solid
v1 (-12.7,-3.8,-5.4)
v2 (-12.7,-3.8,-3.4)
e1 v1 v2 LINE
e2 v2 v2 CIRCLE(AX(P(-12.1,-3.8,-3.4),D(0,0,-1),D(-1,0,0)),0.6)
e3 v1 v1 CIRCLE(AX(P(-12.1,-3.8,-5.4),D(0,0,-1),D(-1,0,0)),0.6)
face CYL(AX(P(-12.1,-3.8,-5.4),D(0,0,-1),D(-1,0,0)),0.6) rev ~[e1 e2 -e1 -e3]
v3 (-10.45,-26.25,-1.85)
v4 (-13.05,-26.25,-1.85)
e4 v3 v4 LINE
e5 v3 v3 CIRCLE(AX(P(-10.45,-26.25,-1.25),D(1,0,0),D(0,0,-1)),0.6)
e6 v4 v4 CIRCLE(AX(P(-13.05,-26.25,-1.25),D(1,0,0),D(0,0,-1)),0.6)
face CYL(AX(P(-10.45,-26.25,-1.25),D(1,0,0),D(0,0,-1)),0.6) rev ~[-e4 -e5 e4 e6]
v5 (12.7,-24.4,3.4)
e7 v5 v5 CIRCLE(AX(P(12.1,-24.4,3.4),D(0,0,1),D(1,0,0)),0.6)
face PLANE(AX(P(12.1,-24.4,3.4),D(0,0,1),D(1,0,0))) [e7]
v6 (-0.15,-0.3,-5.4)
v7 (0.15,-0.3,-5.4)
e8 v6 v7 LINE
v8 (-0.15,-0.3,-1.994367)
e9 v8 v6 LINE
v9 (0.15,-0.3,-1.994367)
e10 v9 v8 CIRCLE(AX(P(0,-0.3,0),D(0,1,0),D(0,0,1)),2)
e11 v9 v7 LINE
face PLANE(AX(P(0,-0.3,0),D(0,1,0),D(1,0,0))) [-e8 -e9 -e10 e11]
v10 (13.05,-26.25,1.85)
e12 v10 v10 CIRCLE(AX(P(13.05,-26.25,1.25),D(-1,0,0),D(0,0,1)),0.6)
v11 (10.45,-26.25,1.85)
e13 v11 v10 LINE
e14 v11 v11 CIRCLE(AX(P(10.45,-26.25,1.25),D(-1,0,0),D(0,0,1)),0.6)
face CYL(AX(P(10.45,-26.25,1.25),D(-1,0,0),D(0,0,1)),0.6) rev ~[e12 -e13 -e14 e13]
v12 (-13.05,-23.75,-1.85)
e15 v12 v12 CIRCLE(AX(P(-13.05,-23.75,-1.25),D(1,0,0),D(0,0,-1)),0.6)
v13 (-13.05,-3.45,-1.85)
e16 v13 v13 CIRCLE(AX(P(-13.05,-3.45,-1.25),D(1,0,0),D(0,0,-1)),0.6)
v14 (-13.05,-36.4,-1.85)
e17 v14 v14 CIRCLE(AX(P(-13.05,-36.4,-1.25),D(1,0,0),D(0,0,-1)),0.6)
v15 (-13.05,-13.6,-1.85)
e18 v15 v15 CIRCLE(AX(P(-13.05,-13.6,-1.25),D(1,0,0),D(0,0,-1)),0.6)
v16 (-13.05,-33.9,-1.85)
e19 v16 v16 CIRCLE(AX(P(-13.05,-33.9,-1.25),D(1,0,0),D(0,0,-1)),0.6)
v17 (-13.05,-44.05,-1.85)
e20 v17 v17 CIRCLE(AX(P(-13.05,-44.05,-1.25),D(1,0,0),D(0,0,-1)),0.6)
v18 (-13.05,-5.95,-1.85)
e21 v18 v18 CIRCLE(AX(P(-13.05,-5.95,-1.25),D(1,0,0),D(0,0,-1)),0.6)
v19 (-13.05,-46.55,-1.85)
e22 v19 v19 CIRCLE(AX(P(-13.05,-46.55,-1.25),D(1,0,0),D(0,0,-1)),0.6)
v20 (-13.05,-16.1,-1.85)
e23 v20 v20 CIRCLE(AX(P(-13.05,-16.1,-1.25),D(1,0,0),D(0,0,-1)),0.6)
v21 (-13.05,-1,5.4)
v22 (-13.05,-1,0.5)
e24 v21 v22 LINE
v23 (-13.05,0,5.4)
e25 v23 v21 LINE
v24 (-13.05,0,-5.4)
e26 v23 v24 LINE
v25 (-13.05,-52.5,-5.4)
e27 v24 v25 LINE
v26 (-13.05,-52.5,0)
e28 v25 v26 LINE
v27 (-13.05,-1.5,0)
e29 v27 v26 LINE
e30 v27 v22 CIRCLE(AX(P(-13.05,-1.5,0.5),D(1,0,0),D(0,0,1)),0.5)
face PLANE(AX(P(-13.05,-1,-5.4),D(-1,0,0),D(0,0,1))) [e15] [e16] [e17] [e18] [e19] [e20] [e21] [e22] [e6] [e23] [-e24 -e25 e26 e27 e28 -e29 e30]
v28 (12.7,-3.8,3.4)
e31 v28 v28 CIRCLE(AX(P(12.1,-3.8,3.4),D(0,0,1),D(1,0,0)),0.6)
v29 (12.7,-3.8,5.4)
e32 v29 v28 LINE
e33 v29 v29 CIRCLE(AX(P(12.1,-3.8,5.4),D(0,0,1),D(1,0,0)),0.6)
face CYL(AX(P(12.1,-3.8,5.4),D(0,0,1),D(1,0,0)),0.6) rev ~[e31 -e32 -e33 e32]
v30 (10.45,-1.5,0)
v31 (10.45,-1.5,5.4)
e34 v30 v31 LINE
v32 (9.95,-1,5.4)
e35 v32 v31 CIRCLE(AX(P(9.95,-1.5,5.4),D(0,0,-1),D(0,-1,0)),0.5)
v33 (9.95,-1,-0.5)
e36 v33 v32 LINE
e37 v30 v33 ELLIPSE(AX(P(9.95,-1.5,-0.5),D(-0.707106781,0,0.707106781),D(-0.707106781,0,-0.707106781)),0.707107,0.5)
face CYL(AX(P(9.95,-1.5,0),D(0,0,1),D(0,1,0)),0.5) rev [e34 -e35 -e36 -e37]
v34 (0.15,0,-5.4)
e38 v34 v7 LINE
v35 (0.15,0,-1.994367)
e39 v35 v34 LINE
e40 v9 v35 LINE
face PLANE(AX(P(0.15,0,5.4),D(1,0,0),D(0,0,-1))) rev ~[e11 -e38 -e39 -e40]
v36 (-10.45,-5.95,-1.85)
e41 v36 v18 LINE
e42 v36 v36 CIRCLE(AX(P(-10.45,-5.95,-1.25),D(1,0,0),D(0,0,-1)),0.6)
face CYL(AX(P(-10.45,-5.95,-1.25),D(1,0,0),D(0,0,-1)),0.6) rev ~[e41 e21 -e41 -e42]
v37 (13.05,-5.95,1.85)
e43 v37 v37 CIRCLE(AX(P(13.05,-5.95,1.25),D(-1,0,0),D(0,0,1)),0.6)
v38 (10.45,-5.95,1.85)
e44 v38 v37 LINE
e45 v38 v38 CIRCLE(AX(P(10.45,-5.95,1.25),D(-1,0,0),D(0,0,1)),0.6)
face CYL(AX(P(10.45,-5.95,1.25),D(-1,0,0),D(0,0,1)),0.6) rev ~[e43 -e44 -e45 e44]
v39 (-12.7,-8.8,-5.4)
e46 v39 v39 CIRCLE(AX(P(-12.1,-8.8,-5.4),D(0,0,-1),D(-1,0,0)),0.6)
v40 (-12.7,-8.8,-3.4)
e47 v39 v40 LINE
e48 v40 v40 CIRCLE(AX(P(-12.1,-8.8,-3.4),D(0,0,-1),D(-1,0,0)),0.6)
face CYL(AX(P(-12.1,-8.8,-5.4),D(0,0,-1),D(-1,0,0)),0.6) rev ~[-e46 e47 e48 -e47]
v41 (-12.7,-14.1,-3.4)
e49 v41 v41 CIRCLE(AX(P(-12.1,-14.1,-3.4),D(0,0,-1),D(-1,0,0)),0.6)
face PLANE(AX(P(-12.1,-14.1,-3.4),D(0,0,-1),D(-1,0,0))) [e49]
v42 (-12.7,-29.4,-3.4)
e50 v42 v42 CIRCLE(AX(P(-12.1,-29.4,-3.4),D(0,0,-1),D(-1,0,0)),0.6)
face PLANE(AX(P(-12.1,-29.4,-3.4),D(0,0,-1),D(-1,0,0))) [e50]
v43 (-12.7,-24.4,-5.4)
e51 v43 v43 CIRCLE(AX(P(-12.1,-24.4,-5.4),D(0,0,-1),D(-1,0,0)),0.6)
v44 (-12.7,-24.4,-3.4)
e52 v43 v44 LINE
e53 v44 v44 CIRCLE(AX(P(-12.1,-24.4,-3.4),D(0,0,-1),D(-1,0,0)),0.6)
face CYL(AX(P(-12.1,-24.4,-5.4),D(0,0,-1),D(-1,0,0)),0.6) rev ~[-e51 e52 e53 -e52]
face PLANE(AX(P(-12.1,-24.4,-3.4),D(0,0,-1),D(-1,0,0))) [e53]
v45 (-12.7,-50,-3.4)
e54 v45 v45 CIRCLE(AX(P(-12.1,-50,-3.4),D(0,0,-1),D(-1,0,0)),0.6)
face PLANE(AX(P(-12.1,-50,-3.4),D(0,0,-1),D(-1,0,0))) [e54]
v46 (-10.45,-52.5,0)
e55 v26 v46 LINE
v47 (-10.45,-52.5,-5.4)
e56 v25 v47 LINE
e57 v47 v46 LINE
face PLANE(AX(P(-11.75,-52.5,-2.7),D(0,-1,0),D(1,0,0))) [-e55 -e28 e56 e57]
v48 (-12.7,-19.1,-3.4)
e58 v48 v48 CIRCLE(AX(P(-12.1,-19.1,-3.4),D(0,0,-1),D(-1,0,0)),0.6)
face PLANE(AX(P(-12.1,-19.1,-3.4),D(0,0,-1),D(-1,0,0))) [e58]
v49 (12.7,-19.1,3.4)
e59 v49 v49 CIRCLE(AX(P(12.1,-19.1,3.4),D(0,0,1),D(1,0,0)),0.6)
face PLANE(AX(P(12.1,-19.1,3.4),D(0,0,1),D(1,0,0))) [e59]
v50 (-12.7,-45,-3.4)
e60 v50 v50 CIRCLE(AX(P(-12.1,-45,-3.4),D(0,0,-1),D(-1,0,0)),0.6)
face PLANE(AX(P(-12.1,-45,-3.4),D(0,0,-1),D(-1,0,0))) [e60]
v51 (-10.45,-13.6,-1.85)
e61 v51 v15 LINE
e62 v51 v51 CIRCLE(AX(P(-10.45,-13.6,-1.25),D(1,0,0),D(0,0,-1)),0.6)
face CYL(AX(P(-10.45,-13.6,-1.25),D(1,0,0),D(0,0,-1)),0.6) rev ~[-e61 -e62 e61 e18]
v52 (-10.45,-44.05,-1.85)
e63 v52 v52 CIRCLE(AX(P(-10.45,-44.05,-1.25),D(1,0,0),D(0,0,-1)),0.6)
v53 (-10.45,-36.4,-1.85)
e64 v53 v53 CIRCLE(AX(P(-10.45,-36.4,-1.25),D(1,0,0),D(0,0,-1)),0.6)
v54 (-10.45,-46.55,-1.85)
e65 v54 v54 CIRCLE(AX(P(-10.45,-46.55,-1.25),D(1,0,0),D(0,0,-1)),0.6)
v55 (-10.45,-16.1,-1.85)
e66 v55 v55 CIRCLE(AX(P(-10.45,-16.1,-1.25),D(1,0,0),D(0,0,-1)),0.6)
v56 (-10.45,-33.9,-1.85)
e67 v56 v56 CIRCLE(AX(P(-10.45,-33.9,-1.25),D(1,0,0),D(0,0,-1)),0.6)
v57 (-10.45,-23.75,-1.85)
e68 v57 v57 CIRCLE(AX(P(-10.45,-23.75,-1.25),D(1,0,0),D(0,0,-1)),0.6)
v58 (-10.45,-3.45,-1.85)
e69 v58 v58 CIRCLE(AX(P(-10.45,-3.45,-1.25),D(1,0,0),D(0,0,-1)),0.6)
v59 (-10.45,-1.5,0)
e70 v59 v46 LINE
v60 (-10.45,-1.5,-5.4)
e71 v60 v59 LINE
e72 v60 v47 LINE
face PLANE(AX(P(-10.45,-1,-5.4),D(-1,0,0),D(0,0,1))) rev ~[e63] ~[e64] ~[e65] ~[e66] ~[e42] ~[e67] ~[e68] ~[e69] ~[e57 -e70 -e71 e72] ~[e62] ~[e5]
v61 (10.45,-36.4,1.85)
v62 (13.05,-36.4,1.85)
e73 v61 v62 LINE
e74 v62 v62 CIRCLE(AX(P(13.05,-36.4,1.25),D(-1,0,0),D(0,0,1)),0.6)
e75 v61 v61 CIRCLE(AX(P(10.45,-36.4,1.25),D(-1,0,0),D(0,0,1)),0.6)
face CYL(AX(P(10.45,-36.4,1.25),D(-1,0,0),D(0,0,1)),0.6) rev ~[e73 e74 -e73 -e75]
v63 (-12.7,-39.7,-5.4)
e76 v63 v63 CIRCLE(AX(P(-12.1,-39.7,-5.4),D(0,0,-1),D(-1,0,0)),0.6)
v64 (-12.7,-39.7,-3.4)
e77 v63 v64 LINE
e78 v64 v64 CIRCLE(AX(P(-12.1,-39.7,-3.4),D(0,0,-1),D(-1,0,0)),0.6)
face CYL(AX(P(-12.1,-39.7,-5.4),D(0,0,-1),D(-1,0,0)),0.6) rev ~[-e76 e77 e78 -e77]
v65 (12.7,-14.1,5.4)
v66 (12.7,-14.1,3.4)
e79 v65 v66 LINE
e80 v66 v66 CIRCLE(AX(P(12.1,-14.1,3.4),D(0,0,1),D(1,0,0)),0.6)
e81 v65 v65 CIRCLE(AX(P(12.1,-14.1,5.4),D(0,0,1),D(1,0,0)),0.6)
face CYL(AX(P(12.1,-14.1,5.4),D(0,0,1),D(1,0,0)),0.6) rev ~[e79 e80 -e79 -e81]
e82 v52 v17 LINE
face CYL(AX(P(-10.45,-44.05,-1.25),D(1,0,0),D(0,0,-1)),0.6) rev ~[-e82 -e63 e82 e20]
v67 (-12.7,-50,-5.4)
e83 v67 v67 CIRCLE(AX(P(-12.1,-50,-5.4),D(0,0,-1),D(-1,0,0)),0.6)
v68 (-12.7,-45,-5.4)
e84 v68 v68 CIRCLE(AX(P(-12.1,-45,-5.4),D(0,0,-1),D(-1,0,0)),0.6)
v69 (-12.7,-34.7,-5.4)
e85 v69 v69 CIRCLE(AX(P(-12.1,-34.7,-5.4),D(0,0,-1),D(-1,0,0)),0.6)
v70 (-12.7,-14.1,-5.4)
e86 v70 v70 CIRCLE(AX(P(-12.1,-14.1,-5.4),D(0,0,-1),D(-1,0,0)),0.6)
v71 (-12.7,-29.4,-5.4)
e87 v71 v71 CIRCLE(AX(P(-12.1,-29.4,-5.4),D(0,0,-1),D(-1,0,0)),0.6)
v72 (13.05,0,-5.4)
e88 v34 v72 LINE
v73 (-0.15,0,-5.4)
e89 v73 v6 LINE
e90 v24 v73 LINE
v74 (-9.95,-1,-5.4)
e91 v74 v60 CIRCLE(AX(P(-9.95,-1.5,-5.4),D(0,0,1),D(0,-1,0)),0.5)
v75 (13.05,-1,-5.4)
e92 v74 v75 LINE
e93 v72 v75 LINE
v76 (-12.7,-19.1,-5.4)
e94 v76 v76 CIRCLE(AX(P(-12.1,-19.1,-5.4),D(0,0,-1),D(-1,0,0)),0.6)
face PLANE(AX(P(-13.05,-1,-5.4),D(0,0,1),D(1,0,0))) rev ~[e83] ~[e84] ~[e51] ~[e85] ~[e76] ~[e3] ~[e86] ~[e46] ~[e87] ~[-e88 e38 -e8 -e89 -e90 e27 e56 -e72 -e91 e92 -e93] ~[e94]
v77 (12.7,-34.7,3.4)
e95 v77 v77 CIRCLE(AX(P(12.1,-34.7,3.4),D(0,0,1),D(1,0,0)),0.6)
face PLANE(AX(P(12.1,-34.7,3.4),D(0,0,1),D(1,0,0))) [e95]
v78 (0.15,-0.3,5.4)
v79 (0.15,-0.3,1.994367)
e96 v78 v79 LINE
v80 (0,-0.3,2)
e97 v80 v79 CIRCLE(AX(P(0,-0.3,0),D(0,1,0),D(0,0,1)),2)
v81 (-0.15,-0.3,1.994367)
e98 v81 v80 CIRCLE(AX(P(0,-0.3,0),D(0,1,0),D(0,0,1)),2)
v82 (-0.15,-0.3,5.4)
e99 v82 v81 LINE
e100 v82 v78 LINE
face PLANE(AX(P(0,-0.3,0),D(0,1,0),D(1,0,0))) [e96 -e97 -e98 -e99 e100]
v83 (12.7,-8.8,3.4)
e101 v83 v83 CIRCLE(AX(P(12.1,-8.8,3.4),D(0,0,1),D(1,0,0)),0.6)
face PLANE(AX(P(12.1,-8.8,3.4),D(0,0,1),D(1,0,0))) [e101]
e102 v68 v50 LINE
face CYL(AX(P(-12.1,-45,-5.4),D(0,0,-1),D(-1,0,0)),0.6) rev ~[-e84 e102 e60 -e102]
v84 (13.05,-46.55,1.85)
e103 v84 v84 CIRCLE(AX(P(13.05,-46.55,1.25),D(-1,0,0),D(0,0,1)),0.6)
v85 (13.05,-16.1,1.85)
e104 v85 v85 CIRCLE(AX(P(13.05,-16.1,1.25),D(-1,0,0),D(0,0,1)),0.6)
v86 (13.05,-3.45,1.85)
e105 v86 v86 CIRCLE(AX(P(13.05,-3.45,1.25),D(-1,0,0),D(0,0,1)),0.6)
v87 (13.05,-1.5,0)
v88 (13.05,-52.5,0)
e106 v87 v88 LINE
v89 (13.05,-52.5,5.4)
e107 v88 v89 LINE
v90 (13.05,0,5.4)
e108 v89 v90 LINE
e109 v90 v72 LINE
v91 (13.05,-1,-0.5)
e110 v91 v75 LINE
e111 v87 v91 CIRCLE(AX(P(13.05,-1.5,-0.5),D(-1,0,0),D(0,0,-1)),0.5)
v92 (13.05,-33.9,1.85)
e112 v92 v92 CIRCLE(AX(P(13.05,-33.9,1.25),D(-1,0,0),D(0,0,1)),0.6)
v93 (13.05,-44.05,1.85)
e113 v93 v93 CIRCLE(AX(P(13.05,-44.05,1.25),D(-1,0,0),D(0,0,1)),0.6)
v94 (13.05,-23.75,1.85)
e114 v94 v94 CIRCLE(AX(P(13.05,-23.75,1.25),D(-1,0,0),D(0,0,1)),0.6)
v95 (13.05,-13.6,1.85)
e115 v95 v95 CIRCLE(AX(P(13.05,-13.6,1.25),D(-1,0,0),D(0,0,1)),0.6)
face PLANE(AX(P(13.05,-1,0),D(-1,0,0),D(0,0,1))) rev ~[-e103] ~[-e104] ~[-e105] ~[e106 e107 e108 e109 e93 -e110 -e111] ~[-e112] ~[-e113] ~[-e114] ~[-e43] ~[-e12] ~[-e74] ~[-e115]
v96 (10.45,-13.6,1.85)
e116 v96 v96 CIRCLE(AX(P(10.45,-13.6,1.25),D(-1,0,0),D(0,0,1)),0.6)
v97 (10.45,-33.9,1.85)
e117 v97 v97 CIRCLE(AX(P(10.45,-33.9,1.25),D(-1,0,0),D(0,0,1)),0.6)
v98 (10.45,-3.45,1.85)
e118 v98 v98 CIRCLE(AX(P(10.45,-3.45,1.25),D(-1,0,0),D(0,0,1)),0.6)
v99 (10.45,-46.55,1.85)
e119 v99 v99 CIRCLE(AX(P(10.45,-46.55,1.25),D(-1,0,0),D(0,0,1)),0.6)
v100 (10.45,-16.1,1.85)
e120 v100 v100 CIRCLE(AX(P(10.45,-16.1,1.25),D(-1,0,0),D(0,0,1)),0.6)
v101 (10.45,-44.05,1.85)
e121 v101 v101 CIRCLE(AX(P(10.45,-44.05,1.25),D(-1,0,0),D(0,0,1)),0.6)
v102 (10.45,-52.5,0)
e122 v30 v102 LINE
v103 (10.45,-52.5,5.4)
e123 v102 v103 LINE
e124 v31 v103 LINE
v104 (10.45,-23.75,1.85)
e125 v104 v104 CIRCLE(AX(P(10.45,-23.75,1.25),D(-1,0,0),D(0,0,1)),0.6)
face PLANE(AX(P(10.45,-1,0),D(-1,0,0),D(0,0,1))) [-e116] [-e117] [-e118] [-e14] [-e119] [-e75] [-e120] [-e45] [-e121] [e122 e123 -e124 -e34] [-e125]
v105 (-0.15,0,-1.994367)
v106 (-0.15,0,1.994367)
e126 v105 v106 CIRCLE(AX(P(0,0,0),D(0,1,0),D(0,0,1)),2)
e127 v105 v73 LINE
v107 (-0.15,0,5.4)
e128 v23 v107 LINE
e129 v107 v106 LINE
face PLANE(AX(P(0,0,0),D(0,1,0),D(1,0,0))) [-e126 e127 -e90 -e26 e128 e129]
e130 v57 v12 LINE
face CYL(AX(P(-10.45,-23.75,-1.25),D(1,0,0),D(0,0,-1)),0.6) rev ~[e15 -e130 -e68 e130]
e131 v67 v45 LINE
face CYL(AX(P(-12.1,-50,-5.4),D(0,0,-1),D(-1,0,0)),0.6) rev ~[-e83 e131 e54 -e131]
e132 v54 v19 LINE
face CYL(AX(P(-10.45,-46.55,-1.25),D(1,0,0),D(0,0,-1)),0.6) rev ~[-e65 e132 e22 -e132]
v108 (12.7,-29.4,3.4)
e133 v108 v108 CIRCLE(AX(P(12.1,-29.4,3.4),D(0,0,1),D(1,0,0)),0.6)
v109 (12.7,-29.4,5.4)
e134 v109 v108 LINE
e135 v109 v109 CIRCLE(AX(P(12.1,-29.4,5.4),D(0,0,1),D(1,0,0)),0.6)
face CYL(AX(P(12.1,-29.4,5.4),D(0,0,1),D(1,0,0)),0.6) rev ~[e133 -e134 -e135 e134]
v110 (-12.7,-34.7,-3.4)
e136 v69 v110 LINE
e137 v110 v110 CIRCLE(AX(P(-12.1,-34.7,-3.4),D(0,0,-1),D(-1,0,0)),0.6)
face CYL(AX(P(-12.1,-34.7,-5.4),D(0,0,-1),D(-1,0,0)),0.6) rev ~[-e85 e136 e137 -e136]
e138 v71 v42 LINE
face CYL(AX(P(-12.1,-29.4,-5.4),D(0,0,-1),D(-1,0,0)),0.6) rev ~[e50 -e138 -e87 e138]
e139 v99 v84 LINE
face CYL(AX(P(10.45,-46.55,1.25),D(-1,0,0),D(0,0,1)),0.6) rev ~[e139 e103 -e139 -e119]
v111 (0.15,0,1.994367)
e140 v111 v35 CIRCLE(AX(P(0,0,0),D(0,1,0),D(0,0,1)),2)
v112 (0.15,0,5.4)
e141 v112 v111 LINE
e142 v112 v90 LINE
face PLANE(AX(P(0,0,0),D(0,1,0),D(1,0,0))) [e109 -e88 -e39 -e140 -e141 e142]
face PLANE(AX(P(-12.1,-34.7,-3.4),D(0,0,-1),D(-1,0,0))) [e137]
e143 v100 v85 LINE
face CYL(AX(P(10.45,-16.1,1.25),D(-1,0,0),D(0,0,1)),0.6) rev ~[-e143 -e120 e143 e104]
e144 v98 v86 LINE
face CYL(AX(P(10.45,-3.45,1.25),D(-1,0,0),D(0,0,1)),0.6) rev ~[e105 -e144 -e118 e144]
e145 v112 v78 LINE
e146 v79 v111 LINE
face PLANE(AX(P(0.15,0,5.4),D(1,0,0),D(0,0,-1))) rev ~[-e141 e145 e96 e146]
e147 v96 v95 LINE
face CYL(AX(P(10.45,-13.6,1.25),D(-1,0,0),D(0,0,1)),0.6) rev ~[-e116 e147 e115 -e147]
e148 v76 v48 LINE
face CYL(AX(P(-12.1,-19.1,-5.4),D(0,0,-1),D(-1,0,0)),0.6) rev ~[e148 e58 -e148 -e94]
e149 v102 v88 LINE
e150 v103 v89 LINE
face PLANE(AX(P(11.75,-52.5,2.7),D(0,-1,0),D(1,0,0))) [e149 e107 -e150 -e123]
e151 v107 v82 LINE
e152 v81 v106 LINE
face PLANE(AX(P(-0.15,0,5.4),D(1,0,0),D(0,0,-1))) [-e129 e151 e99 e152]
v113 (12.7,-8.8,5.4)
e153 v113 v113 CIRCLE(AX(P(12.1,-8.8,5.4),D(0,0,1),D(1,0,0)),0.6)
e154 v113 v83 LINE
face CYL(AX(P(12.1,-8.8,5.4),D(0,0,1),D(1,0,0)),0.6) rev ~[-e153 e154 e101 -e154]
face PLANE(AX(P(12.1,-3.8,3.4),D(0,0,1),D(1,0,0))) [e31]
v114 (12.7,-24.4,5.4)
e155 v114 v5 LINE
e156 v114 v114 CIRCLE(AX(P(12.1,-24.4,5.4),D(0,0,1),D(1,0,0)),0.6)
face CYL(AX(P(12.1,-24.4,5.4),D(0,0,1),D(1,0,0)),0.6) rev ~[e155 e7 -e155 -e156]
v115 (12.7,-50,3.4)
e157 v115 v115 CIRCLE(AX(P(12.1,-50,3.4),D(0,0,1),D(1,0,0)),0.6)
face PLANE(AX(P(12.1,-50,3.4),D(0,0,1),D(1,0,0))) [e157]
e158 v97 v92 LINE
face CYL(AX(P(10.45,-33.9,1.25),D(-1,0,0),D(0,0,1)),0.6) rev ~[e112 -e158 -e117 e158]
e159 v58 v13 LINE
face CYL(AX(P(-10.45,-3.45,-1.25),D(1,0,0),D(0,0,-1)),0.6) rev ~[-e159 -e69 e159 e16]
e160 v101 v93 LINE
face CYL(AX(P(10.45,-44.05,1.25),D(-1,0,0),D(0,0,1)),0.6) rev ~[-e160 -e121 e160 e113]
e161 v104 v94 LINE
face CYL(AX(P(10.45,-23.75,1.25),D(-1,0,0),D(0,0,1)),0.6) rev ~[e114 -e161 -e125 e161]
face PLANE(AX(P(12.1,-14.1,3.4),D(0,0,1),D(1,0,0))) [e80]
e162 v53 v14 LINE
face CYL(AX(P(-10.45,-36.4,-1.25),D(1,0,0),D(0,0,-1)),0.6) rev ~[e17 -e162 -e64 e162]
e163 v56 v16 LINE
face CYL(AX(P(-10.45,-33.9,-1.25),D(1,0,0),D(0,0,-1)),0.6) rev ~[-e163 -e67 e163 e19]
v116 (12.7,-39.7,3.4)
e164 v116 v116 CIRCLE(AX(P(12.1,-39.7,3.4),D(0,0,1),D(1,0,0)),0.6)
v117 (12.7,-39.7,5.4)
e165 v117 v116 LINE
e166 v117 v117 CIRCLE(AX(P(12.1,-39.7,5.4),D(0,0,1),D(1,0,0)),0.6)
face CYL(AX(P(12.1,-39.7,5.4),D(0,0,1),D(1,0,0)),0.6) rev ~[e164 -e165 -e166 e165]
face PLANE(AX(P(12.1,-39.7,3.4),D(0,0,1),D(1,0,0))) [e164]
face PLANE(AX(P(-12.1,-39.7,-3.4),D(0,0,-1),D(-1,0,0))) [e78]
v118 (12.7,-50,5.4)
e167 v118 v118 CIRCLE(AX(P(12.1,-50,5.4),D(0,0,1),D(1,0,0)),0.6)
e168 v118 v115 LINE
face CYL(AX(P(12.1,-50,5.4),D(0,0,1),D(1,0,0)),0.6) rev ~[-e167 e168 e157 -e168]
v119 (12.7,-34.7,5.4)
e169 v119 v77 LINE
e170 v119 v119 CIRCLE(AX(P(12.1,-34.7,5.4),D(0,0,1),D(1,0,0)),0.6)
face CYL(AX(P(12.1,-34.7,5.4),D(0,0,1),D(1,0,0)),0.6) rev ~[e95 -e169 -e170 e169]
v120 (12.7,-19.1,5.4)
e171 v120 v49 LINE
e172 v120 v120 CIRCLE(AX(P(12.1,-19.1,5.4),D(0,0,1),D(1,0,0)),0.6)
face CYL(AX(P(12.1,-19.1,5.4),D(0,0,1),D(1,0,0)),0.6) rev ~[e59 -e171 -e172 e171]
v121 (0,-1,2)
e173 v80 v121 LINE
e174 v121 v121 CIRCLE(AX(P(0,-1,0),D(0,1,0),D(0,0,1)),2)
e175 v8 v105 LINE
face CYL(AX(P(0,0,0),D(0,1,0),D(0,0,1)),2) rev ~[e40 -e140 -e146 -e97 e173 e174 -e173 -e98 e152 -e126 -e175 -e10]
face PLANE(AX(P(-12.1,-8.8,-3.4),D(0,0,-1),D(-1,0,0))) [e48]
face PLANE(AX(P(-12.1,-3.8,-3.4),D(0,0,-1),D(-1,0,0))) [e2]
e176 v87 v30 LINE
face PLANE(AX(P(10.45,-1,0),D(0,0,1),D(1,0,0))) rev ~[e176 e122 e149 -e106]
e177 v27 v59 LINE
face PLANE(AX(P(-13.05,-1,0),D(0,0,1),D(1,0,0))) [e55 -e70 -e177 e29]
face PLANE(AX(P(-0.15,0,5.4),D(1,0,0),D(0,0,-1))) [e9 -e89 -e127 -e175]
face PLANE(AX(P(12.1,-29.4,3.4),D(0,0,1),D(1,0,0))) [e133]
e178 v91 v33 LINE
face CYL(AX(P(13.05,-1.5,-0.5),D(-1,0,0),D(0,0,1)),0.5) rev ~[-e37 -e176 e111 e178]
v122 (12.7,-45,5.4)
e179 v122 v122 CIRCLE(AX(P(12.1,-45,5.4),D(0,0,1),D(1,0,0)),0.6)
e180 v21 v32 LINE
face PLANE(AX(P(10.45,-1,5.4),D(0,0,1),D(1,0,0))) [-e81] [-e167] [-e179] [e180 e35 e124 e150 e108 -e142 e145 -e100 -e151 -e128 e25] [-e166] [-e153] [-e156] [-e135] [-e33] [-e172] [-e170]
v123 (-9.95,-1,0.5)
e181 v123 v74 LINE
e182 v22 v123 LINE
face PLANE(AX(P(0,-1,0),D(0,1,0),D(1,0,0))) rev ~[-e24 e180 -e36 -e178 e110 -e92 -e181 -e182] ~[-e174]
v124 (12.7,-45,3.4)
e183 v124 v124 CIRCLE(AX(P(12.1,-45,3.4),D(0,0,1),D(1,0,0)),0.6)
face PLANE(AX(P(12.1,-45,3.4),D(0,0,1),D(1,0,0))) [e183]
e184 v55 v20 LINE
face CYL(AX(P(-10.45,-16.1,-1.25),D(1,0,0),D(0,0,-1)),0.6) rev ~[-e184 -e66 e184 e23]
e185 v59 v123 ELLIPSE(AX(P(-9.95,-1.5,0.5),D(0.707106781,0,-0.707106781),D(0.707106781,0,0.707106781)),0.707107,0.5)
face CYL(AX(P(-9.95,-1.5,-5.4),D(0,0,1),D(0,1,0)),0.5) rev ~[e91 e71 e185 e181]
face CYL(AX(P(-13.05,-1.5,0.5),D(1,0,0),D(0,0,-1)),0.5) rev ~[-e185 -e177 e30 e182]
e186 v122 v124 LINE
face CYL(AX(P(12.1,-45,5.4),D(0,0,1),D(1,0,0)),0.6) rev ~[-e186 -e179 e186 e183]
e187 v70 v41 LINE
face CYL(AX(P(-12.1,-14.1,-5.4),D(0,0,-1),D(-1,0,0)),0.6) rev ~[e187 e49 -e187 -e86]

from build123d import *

# Parameters (mm, degrees)
SKETCH1_W              = 26.1
SKETCH1_H              = 10.8
EXTRUDE_284_DEPTH      = 1
SKETCH2_W              = 2.6
SKETCH2_H              = 5.4
EXTRUDE_422_DEPTH      = 51.5
SKETCH3_W              = 2.6
SKETCH3_H              = 5.4
EXTRUDE_634_DEPTH      = 51.5
SKETCH4_R              = 0.6
F_1_TIP_DEPTH          = 2
SKETCH5_R              = 0.6
F_2_TIP_DEPTH          = 2
SKETCH6_R              = 0.6
F_3_TIP_DEPTH          = 2
SKETCH7_R              = 0.6
F_4_TIP_DEPTH          = 2
SKETCH8_R              = 0.6
F_5_TIP_DEPTH          = 2
SKETCH9_R              = 0.6
F_6_TIP_DEPTH          = 2
SKETCH10_R             = 0.6
F_7_TIP_DEPTH          = 2
SKETCH11_R             = 0.6
F_8_TIP_DEPTH          = 2
SKETCH12_R             = 0.6
F_9_TIP_DEPTH          = 2
SKETCH13_R             = 0.6
F_10_TIP_DEPTH         = 2
SKETCH14_R             = 0.6
F_1_SAMPLE_DEPTH       = 2.6
SKETCH15_R             = 0.6
F_2_SAMPLE_DEPTH       = 2.6
SKETCH16_R             = 0.6
F_3_SAMPLE_DEPTH       = 2.6
SKETCH17_R             = 0.6
F_4_SAMPLE_DEPTH       = 2.6
SKETCH18_R             = 0.6
F_5_SAMPLE_DEPTH       = 2.6
SKETCH19_R             = 0.6
F_6_SAMPLE_DEPTH       = 2.6
SKETCH20_R             = 0.6
F_7_SAMPLE_DEPTH       = 2.6
SKETCH21_R             = 0.6
F_8_SAMPLE_DEPTH       = 2.6
SKETCH22_R             = 0.6
F_9_SAMPLE_DEPTH       = 2.6
SKETCH23_R             = 0.6
F_10_SAMPLE_DEPTH      = 2.6
SKETCH24_R             = 0.6
F_1_SAMPLE_2_DEPTH     = 2.6
SKETCH25_R             = 0.6
F_2_SAMPLE_2_DEPTH     = 2.6
SKETCH26_R             = 0.6
F_3_SAMPLE_2_DEPTH     = 2.6
SKETCH27_R             = 0.6
F_4_SAMPLE_2_DEPTH     = 2.6
SKETCH28_R             = 0.6
F_5_SAMPLE_2_DEPTH     = 2.6
SKETCH29_R             = 0.6
F_6_SAMPLE_2_DEPTH     = 2.6
SKETCH30_R             = 0.6
F_7_SAMPLE_2_DEPTH     = 2.6
SKETCH31_R             = 0.6
F_8_SAMPLE_2_DEPTH     = 2.6
SKETCH32_R             = 0.6
F_9_SAMPLE_2_DEPTH     = 2.6
SKETCH33_R             = 0.6
F_10_SAMPLE_2_DEPTH    = 2.6
SKETCH34_R             = 0.6
F_1_TIP_2_DEPTH        = 2
SKETCH35_R             = 0.6
F_2_TIP_2_DEPTH        = 2
SKETCH36_R             = 0.6
F_3_TIP_2_DEPTH        = 2
SKETCH37_R             = 0.6
F_4_TIP_2_DEPTH        = 2
SKETCH38_R             = 0.6
F_5_TIP_2_DEPTH        = 2
SKETCH39_R             = 0.6
F_6_TIP_2_DEPTH        = 2
SKETCH40_R             = 0.6
F_7_TIP_2_DEPTH        = 2
SKETCH41_R             = 0.6
F_8_TIP_2_DEPTH        = 2
SKETCH42_R             = 0.6
F_9_TIP_2_DEPTH        = 2
SKETCH43_R             = 0.6
F_10_TIP_2_DEPTH       = 2
SKETCH44_R             = 2
CUT_EXTRUDE_M4_DEPTH   = 3
FILLET1_R              = 0.5
FILLET2_R              = 0.5
SKETCH45_W             = 0.3
SKETCH45_H             = 10.8
CUT_EXTRUDE_9209_DEPTH = 0.3


with BuildPart() as part:
    # Sketch1 → Extrude 284 (new body)
    with BuildSketch(Plane(origin=(0, 0, 0), x_dir=(1, 0, 0), z_dir=(0, 1, 0))):
        Rectangle(SKETCH1_W, SKETCH1_H)
    extrude(amount=-EXTRUDE_284_DEPTH)

    # Sketch2 → Extrude 422 (add)
    with BuildSketch(Plane.XZ.offset(1)):
        with Locations((11.75, 2.7)):
            Rectangle(SKETCH2_W, SKETCH2_H)
    extrude(amount=EXTRUDE_422_DEPTH)

    # Sketch3 → Extrude 634 (add)
    with BuildSketch(Plane.XZ.offset(1)):
        with Locations((-11.75, -2.7)):
            Rectangle(SKETCH3_W, SKETCH3_H)
    extrude(amount=EXTRUDE_634_DEPTH)

    # Sketch4 → 1-tip (cut)
    with BuildSketch(Plane.XY.offset(5.4)):
        with Locations((12.1, -3.8)):
            Circle(SKETCH4_R)
    extrude(amount=-F_1_TIP_DEPTH, mode=Mode.SUBTRACT)

    # Sketch5 → 2-tip (cut)
    with BuildSketch(Plane.XY.offset(5.4)):
        with Locations((12.1, -8.8)):
            Circle(SKETCH5_R)
    extrude(amount=-F_2_TIP_DEPTH, mode=Mode.SUBTRACT)

    # Sketch6 → 3-tip (cut)
    with BuildSketch(Plane.XY.offset(5.4)):
        with Locations((12.1, -14.1)):
            Circle(SKETCH6_R)
    extrude(amount=-F_3_TIP_DEPTH, mode=Mode.SUBTRACT)

    # Sketch7 → 4-tip (cut)
    with BuildSketch(Plane.XY.offset(5.4)):
        with Locations((12.1, -19.1)):
            Circle(SKETCH7_R)
    extrude(amount=-F_4_TIP_DEPTH, mode=Mode.SUBTRACT)

    # Sketch8 → 5-tip (cut)
    with BuildSketch(Plane.XY.offset(5.4)):
        with Locations((12.1, -24.4)):
            Circle(SKETCH8_R)
    extrude(amount=-F_5_TIP_DEPTH, mode=Mode.SUBTRACT)

    # Sketch9 → 6-tip (cut)
    with BuildSketch(Plane.XY.offset(5.4)):
        with Locations((12.1, -29.4)):
            Circle(SKETCH9_R)
    extrude(amount=-F_6_TIP_DEPTH, mode=Mode.SUBTRACT)

    # Sketch10 → 7-tip (cut)
    with BuildSketch(Plane.XY.offset(5.4)):
        with Locations((12.1, -34.7)):
            Circle(SKETCH10_R)
    extrude(amount=-F_7_TIP_DEPTH, mode=Mode.SUBTRACT)

    # Sketch11 → 8-tip (cut)
    with BuildSketch(Plane.XY.offset(5.4)):
        with Locations((12.1, -39.7)):
            Circle(SKETCH11_R)
    extrude(amount=-F_8_TIP_DEPTH, mode=Mode.SUBTRACT)

    # Sketch12 → 9-tip (cut)
    with BuildSketch(Plane.XY.offset(5.4)):
        with Locations((12.1, -45)):
            Circle(SKETCH12_R)
    extrude(amount=-F_9_TIP_DEPTH, mode=Mode.SUBTRACT)

    # Sketch13 → 10-tip (cut)
    with BuildSketch(Plane.XY.offset(5.4)):
        with Locations((12.1, -50)):
            Circle(SKETCH13_R)
    extrude(amount=-F_10_TIP_DEPTH, mode=Mode.SUBTRACT)

    # Sketch14 → 1-sample (cut)
    with BuildSketch(Plane.ZY.offset(-10.45)):
        with Locations((1.25, -3.45)):
            Circle(SKETCH14_R)
    extrude(amount=-F_1_SAMPLE_DEPTH, mode=Mode.SUBTRACT)

    # Sketch15 → 2-sample (cut)
    with BuildSketch(Plane.ZY.offset(-10.45)):
        with Locations((1.25, -5.95)):
            Circle(SKETCH15_R)
    extrude(amount=-F_2_SAMPLE_DEPTH, mode=Mode.SUBTRACT)

    # Sketch16 → 3-sample (cut)
    with BuildSketch(Plane.ZY.offset(-10.45)):
        with Locations((1.25, -13.6)):
            Circle(SKETCH16_R)
    extrude(amount=-F_3_SAMPLE_DEPTH, mode=Mode.SUBTRACT)

    # Sketch17 → 4-sample (cut)
    with BuildSketch(Plane.ZY.offset(-10.45)):
        with Locations((1.25, -16.1)):
            Circle(SKETCH17_R)
    extrude(amount=-F_4_SAMPLE_DEPTH, mode=Mode.SUBTRACT)

    # Sketch18 → 5-sample (cut)
    with BuildSketch(Plane.ZY.offset(-10.45)):
        with Locations((1.25, -23.75)):
            Circle(SKETCH18_R)
    extrude(amount=-F_5_SAMPLE_DEPTH, mode=Mode.SUBTRACT)

    # Sketch19 → 6-sample (cut)
    with BuildSketch(Plane.ZY.offset(-10.45)):
        with Locations((1.25, -26.25)):
            Circle(SKETCH19_R)
    extrude(amount=-F_6_SAMPLE_DEPTH, mode=Mode.SUBTRACT)

    # Sketch20 → 7-sample (cut)
    with BuildSketch(Plane.ZY.offset(-10.45)):
        with Locations((1.25, -33.9)):
            Circle(SKETCH20_R)
    extrude(amount=-F_7_SAMPLE_DEPTH, mode=Mode.SUBTRACT)

    # Sketch21 → 8-sample (cut)
    with BuildSketch(Plane.ZY.offset(-10.45)):
        with Locations((1.25, -36.4)):
            Circle(SKETCH21_R)
    extrude(amount=-F_8_SAMPLE_DEPTH, mode=Mode.SUBTRACT)

    # Sketch22 → 9-sample (cut)
    with BuildSketch(Plane.ZY.offset(-10.45)):
        with Locations((1.25, -44.05)):
            Circle(SKETCH22_R)
    extrude(amount=-F_9_SAMPLE_DEPTH, mode=Mode.SUBTRACT)

    # Sketch23 → 10-sample (cut)
    with BuildSketch(Plane.ZY.offset(-10.45)):
        with Locations((1.25, -46.55)):
            Circle(SKETCH23_R)
    extrude(amount=-F_10_SAMPLE_DEPTH, mode=Mode.SUBTRACT)

    # Sketch24 → 1-sample 2 (cut)
    with BuildSketch(Plane(origin=(-10.45, 0, 0), x_dir=(0, 0, -1), z_dir=(1, 0, 0))):
        with Locations((1.25, -3.45)):
            Circle(SKETCH24_R)
    extrude(amount=-F_1_SAMPLE_2_DEPTH, mode=Mode.SUBTRACT)

    # Sketch25 → 2-sample 2 (cut)
    with BuildSketch(Plane(origin=(-10.45, 0, 0), x_dir=(0, 0, -1), z_dir=(1, 0, 0))):
        with Locations((1.25, -5.95)):
            Circle(SKETCH25_R)
    extrude(amount=-F_2_SAMPLE_2_DEPTH, mode=Mode.SUBTRACT)

    # Sketch26 → 3-sample 2 (cut)
    with BuildSketch(Plane(origin=(-10.45, 0, 0), x_dir=(0, 0, -1), z_dir=(1, 0, 0))):
        with Locations((1.25, -13.6)):
            Circle(SKETCH26_R)
    extrude(amount=-F_3_SAMPLE_2_DEPTH, mode=Mode.SUBTRACT)

    # Sketch27 → 4-sample 2 (cut)
    with BuildSketch(Plane(origin=(-10.45, 0, 0), x_dir=(0, 0, -1), z_dir=(1, 0, 0))):
        with Locations((1.25, -16.1)):
            Circle(SKETCH27_R)
    extrude(amount=-F_4_SAMPLE_2_DEPTH, mode=Mode.SUBTRACT)

    # Sketch28 → 5-sample 2 (cut)
    with BuildSketch(Plane(origin=(-10.45, 0, 0), x_dir=(0, 0, -1), z_dir=(1, 0, 0))):
        with Locations((1.25, -23.75)):
            Circle(SKETCH28_R)
    extrude(amount=-F_5_SAMPLE_2_DEPTH, mode=Mode.SUBTRACT)

    # Sketch29 → 6-sample 2 (cut)
    with BuildSketch(Plane(origin=(-10.45, 0, 0), x_dir=(0, 0, -1), z_dir=(1, 0, 0))):
        with Locations((1.25, -26.25)):
            Circle(SKETCH29_R)
    extrude(amount=-F_6_SAMPLE_2_DEPTH, mode=Mode.SUBTRACT)

    # Sketch30 → 7-sample 2 (cut)
    with BuildSketch(Plane(origin=(-10.45, 0, 0), x_dir=(0, 0, -1), z_dir=(1, 0, 0))):
        with Locations((1.25, -33.9)):
            Circle(SKETCH30_R)
    extrude(amount=-F_7_SAMPLE_2_DEPTH, mode=Mode.SUBTRACT)

    # Sketch31 → 8-sample 2 (cut)
    with BuildSketch(Plane(origin=(-10.45, 0, 0), x_dir=(0, 0, -1), z_dir=(1, 0, 0))):
        with Locations((1.25, -36.4)):
            Circle(SKETCH31_R)
    extrude(amount=-F_8_SAMPLE_2_DEPTH, mode=Mode.SUBTRACT)

    # Sketch32 → 9-sample 2 (cut)
    with BuildSketch(Plane(origin=(-10.45, 0, 0), x_dir=(0, 0, -1), z_dir=(1, 0, 0))):
        with Locations((1.25, -44.05)):
            Circle(SKETCH32_R)
    extrude(amount=-F_9_SAMPLE_2_DEPTH, mode=Mode.SUBTRACT)

    # Sketch33 → 10-sample 2 (cut)
    with BuildSketch(Plane(origin=(-10.45, 0, 0), x_dir=(0, 0, -1), z_dir=(1, 0, 0))):
        with Locations((1.25, -46.55)):
            Circle(SKETCH33_R)
    extrude(amount=-F_10_SAMPLE_2_DEPTH, mode=Mode.SUBTRACT)

    # Sketch34 → 1-tip 2 (cut)
    with BuildSketch(Plane(origin=(0, 0, -5.4), x_dir=(-1, 0, 0), z_dir=(0, 0, -1))):
        with Locations((12.1, -3.8)):
            Circle(SKETCH34_R)
    extrude(amount=-F_1_TIP_2_DEPTH, mode=Mode.SUBTRACT)

    # Sketch35 → 2-tip 2 (cut)
    with BuildSketch(Plane(origin=(0, 0, -5.4), x_dir=(-1, 0, 0), z_dir=(0, 0, -1))):
        with Locations((12.1, -8.8)):
            Circle(SKETCH35_R)
    extrude(amount=-F_2_TIP_2_DEPTH, mode=Mode.SUBTRACT)

    # Sketch36 → 3-tip 2 (cut)
    with BuildSketch(Plane(origin=(0, 0, -5.4), x_dir=(-1, 0, 0), z_dir=(0, 0, -1))):
        with Locations((12.1, -14.1)):
            Circle(SKETCH36_R)
    extrude(amount=-F_3_TIP_2_DEPTH, mode=Mode.SUBTRACT)

    # Sketch37 → 4-tip 2 (cut)
    with BuildSketch(Plane(origin=(0, 0, -5.4), x_dir=(-1, 0, 0), z_dir=(0, 0, -1))):
        with Locations((12.1, -19.1)):
            Circle(SKETCH37_R)
    extrude(amount=-F_4_TIP_2_DEPTH, mode=Mode.SUBTRACT)

    # Sketch38 → 5-tip 2 (cut)
    with BuildSketch(Plane(origin=(0, 0, -5.4), x_dir=(-1, 0, 0), z_dir=(0, 0, -1))):
        with Locations((12.1, -24.4)):
            Circle(SKETCH38_R)
    extrude(amount=-F_5_TIP_2_DEPTH, mode=Mode.SUBTRACT)

    # Sketch39 → 6-tip 2 (cut)
    with BuildSketch(Plane(origin=(0, 0, -5.4), x_dir=(-1, 0, 0), z_dir=(0, 0, -1))):
        with Locations((12.1, -29.4)):
            Circle(SKETCH39_R)
    extrude(amount=-F_6_TIP_2_DEPTH, mode=Mode.SUBTRACT)

    # Sketch40 → 7-tip 2 (cut)
    with BuildSketch(Plane(origin=(0, 0, -5.4), x_dir=(-1, 0, 0), z_dir=(0, 0, -1))):
        with Locations((12.1, -34.7)):
            Circle(SKETCH40_R)
    extrude(amount=-F_7_TIP_2_DEPTH, mode=Mode.SUBTRACT)

    # Sketch41 → 8-tip 2 (cut)
    with BuildSketch(Plane(origin=(0, 0, -5.4), x_dir=(-1, 0, 0), z_dir=(0, 0, -1))):
        with Locations((12.1, -39.7)):
            Circle(SKETCH41_R)
    extrude(amount=-F_8_TIP_2_DEPTH, mode=Mode.SUBTRACT)

    # Sketch42 → 9-tip 2 (cut)
    with BuildSketch(Plane(origin=(0, 0, -5.4), x_dir=(-1, 0, 0), z_dir=(0, 0, -1))):
        with Locations((12.1, -45)):
            Circle(SKETCH42_R)
    extrude(amount=-F_9_TIP_2_DEPTH, mode=Mode.SUBTRACT)

    # Sketch43 → 10-tip 2 (cut)
    with BuildSketch(Plane(origin=(0, 0, -5.4), x_dir=(-1, 0, 0), z_dir=(0, 0, -1))):
        with Locations((12.1, -50)):
            Circle(SKETCH43_R)
    extrude(amount=-F_10_TIP_2_DEPTH, mode=Mode.SUBTRACT)

    # Sketch44 → M4螺絲孔 (cut)
    with BuildSketch(Plane(origin=(0, 0, 0), x_dir=(1, 0, 0), z_dir=(0, 1, 0))):
        Circle(SKETCH44_R)
    extrude(amount=-CUT_EXTRUDE_M4_DEPTH, mode=Mode.SUBTRACT)

    # Fillet1
    fillet1_edges = [part.edges().sort_by_distance(p)[0] for p in [
        (10.45, -1, 2.7),
        (-10.45, -1, -2.7),
    ]]
    fillet(fillet1_edges, radius=FILLET1_R)

    # Fillet2
    fillet2_edges = [part.edges().sort_by_distance(p)[0] for p in [
        (11.5, -1, 0),
        (-11.5, -1, 0),
    ]]
    fillet(fillet2_edges, radius=FILLET2_R)

    # Sketch45 → Cut-Extrude 9209 (cut)
    with BuildSketch(Plane(origin=(0, 0, 0), x_dir=(1, 0, 0), z_dir=(0, 1, 0))):
        Rectangle(SKETCH45_W, SKETCH45_H)
    extrude(amount=-CUT_EXTRUDE_9209_DEPTH, mode=Mode.SUBTRACT)


solid = part.part
